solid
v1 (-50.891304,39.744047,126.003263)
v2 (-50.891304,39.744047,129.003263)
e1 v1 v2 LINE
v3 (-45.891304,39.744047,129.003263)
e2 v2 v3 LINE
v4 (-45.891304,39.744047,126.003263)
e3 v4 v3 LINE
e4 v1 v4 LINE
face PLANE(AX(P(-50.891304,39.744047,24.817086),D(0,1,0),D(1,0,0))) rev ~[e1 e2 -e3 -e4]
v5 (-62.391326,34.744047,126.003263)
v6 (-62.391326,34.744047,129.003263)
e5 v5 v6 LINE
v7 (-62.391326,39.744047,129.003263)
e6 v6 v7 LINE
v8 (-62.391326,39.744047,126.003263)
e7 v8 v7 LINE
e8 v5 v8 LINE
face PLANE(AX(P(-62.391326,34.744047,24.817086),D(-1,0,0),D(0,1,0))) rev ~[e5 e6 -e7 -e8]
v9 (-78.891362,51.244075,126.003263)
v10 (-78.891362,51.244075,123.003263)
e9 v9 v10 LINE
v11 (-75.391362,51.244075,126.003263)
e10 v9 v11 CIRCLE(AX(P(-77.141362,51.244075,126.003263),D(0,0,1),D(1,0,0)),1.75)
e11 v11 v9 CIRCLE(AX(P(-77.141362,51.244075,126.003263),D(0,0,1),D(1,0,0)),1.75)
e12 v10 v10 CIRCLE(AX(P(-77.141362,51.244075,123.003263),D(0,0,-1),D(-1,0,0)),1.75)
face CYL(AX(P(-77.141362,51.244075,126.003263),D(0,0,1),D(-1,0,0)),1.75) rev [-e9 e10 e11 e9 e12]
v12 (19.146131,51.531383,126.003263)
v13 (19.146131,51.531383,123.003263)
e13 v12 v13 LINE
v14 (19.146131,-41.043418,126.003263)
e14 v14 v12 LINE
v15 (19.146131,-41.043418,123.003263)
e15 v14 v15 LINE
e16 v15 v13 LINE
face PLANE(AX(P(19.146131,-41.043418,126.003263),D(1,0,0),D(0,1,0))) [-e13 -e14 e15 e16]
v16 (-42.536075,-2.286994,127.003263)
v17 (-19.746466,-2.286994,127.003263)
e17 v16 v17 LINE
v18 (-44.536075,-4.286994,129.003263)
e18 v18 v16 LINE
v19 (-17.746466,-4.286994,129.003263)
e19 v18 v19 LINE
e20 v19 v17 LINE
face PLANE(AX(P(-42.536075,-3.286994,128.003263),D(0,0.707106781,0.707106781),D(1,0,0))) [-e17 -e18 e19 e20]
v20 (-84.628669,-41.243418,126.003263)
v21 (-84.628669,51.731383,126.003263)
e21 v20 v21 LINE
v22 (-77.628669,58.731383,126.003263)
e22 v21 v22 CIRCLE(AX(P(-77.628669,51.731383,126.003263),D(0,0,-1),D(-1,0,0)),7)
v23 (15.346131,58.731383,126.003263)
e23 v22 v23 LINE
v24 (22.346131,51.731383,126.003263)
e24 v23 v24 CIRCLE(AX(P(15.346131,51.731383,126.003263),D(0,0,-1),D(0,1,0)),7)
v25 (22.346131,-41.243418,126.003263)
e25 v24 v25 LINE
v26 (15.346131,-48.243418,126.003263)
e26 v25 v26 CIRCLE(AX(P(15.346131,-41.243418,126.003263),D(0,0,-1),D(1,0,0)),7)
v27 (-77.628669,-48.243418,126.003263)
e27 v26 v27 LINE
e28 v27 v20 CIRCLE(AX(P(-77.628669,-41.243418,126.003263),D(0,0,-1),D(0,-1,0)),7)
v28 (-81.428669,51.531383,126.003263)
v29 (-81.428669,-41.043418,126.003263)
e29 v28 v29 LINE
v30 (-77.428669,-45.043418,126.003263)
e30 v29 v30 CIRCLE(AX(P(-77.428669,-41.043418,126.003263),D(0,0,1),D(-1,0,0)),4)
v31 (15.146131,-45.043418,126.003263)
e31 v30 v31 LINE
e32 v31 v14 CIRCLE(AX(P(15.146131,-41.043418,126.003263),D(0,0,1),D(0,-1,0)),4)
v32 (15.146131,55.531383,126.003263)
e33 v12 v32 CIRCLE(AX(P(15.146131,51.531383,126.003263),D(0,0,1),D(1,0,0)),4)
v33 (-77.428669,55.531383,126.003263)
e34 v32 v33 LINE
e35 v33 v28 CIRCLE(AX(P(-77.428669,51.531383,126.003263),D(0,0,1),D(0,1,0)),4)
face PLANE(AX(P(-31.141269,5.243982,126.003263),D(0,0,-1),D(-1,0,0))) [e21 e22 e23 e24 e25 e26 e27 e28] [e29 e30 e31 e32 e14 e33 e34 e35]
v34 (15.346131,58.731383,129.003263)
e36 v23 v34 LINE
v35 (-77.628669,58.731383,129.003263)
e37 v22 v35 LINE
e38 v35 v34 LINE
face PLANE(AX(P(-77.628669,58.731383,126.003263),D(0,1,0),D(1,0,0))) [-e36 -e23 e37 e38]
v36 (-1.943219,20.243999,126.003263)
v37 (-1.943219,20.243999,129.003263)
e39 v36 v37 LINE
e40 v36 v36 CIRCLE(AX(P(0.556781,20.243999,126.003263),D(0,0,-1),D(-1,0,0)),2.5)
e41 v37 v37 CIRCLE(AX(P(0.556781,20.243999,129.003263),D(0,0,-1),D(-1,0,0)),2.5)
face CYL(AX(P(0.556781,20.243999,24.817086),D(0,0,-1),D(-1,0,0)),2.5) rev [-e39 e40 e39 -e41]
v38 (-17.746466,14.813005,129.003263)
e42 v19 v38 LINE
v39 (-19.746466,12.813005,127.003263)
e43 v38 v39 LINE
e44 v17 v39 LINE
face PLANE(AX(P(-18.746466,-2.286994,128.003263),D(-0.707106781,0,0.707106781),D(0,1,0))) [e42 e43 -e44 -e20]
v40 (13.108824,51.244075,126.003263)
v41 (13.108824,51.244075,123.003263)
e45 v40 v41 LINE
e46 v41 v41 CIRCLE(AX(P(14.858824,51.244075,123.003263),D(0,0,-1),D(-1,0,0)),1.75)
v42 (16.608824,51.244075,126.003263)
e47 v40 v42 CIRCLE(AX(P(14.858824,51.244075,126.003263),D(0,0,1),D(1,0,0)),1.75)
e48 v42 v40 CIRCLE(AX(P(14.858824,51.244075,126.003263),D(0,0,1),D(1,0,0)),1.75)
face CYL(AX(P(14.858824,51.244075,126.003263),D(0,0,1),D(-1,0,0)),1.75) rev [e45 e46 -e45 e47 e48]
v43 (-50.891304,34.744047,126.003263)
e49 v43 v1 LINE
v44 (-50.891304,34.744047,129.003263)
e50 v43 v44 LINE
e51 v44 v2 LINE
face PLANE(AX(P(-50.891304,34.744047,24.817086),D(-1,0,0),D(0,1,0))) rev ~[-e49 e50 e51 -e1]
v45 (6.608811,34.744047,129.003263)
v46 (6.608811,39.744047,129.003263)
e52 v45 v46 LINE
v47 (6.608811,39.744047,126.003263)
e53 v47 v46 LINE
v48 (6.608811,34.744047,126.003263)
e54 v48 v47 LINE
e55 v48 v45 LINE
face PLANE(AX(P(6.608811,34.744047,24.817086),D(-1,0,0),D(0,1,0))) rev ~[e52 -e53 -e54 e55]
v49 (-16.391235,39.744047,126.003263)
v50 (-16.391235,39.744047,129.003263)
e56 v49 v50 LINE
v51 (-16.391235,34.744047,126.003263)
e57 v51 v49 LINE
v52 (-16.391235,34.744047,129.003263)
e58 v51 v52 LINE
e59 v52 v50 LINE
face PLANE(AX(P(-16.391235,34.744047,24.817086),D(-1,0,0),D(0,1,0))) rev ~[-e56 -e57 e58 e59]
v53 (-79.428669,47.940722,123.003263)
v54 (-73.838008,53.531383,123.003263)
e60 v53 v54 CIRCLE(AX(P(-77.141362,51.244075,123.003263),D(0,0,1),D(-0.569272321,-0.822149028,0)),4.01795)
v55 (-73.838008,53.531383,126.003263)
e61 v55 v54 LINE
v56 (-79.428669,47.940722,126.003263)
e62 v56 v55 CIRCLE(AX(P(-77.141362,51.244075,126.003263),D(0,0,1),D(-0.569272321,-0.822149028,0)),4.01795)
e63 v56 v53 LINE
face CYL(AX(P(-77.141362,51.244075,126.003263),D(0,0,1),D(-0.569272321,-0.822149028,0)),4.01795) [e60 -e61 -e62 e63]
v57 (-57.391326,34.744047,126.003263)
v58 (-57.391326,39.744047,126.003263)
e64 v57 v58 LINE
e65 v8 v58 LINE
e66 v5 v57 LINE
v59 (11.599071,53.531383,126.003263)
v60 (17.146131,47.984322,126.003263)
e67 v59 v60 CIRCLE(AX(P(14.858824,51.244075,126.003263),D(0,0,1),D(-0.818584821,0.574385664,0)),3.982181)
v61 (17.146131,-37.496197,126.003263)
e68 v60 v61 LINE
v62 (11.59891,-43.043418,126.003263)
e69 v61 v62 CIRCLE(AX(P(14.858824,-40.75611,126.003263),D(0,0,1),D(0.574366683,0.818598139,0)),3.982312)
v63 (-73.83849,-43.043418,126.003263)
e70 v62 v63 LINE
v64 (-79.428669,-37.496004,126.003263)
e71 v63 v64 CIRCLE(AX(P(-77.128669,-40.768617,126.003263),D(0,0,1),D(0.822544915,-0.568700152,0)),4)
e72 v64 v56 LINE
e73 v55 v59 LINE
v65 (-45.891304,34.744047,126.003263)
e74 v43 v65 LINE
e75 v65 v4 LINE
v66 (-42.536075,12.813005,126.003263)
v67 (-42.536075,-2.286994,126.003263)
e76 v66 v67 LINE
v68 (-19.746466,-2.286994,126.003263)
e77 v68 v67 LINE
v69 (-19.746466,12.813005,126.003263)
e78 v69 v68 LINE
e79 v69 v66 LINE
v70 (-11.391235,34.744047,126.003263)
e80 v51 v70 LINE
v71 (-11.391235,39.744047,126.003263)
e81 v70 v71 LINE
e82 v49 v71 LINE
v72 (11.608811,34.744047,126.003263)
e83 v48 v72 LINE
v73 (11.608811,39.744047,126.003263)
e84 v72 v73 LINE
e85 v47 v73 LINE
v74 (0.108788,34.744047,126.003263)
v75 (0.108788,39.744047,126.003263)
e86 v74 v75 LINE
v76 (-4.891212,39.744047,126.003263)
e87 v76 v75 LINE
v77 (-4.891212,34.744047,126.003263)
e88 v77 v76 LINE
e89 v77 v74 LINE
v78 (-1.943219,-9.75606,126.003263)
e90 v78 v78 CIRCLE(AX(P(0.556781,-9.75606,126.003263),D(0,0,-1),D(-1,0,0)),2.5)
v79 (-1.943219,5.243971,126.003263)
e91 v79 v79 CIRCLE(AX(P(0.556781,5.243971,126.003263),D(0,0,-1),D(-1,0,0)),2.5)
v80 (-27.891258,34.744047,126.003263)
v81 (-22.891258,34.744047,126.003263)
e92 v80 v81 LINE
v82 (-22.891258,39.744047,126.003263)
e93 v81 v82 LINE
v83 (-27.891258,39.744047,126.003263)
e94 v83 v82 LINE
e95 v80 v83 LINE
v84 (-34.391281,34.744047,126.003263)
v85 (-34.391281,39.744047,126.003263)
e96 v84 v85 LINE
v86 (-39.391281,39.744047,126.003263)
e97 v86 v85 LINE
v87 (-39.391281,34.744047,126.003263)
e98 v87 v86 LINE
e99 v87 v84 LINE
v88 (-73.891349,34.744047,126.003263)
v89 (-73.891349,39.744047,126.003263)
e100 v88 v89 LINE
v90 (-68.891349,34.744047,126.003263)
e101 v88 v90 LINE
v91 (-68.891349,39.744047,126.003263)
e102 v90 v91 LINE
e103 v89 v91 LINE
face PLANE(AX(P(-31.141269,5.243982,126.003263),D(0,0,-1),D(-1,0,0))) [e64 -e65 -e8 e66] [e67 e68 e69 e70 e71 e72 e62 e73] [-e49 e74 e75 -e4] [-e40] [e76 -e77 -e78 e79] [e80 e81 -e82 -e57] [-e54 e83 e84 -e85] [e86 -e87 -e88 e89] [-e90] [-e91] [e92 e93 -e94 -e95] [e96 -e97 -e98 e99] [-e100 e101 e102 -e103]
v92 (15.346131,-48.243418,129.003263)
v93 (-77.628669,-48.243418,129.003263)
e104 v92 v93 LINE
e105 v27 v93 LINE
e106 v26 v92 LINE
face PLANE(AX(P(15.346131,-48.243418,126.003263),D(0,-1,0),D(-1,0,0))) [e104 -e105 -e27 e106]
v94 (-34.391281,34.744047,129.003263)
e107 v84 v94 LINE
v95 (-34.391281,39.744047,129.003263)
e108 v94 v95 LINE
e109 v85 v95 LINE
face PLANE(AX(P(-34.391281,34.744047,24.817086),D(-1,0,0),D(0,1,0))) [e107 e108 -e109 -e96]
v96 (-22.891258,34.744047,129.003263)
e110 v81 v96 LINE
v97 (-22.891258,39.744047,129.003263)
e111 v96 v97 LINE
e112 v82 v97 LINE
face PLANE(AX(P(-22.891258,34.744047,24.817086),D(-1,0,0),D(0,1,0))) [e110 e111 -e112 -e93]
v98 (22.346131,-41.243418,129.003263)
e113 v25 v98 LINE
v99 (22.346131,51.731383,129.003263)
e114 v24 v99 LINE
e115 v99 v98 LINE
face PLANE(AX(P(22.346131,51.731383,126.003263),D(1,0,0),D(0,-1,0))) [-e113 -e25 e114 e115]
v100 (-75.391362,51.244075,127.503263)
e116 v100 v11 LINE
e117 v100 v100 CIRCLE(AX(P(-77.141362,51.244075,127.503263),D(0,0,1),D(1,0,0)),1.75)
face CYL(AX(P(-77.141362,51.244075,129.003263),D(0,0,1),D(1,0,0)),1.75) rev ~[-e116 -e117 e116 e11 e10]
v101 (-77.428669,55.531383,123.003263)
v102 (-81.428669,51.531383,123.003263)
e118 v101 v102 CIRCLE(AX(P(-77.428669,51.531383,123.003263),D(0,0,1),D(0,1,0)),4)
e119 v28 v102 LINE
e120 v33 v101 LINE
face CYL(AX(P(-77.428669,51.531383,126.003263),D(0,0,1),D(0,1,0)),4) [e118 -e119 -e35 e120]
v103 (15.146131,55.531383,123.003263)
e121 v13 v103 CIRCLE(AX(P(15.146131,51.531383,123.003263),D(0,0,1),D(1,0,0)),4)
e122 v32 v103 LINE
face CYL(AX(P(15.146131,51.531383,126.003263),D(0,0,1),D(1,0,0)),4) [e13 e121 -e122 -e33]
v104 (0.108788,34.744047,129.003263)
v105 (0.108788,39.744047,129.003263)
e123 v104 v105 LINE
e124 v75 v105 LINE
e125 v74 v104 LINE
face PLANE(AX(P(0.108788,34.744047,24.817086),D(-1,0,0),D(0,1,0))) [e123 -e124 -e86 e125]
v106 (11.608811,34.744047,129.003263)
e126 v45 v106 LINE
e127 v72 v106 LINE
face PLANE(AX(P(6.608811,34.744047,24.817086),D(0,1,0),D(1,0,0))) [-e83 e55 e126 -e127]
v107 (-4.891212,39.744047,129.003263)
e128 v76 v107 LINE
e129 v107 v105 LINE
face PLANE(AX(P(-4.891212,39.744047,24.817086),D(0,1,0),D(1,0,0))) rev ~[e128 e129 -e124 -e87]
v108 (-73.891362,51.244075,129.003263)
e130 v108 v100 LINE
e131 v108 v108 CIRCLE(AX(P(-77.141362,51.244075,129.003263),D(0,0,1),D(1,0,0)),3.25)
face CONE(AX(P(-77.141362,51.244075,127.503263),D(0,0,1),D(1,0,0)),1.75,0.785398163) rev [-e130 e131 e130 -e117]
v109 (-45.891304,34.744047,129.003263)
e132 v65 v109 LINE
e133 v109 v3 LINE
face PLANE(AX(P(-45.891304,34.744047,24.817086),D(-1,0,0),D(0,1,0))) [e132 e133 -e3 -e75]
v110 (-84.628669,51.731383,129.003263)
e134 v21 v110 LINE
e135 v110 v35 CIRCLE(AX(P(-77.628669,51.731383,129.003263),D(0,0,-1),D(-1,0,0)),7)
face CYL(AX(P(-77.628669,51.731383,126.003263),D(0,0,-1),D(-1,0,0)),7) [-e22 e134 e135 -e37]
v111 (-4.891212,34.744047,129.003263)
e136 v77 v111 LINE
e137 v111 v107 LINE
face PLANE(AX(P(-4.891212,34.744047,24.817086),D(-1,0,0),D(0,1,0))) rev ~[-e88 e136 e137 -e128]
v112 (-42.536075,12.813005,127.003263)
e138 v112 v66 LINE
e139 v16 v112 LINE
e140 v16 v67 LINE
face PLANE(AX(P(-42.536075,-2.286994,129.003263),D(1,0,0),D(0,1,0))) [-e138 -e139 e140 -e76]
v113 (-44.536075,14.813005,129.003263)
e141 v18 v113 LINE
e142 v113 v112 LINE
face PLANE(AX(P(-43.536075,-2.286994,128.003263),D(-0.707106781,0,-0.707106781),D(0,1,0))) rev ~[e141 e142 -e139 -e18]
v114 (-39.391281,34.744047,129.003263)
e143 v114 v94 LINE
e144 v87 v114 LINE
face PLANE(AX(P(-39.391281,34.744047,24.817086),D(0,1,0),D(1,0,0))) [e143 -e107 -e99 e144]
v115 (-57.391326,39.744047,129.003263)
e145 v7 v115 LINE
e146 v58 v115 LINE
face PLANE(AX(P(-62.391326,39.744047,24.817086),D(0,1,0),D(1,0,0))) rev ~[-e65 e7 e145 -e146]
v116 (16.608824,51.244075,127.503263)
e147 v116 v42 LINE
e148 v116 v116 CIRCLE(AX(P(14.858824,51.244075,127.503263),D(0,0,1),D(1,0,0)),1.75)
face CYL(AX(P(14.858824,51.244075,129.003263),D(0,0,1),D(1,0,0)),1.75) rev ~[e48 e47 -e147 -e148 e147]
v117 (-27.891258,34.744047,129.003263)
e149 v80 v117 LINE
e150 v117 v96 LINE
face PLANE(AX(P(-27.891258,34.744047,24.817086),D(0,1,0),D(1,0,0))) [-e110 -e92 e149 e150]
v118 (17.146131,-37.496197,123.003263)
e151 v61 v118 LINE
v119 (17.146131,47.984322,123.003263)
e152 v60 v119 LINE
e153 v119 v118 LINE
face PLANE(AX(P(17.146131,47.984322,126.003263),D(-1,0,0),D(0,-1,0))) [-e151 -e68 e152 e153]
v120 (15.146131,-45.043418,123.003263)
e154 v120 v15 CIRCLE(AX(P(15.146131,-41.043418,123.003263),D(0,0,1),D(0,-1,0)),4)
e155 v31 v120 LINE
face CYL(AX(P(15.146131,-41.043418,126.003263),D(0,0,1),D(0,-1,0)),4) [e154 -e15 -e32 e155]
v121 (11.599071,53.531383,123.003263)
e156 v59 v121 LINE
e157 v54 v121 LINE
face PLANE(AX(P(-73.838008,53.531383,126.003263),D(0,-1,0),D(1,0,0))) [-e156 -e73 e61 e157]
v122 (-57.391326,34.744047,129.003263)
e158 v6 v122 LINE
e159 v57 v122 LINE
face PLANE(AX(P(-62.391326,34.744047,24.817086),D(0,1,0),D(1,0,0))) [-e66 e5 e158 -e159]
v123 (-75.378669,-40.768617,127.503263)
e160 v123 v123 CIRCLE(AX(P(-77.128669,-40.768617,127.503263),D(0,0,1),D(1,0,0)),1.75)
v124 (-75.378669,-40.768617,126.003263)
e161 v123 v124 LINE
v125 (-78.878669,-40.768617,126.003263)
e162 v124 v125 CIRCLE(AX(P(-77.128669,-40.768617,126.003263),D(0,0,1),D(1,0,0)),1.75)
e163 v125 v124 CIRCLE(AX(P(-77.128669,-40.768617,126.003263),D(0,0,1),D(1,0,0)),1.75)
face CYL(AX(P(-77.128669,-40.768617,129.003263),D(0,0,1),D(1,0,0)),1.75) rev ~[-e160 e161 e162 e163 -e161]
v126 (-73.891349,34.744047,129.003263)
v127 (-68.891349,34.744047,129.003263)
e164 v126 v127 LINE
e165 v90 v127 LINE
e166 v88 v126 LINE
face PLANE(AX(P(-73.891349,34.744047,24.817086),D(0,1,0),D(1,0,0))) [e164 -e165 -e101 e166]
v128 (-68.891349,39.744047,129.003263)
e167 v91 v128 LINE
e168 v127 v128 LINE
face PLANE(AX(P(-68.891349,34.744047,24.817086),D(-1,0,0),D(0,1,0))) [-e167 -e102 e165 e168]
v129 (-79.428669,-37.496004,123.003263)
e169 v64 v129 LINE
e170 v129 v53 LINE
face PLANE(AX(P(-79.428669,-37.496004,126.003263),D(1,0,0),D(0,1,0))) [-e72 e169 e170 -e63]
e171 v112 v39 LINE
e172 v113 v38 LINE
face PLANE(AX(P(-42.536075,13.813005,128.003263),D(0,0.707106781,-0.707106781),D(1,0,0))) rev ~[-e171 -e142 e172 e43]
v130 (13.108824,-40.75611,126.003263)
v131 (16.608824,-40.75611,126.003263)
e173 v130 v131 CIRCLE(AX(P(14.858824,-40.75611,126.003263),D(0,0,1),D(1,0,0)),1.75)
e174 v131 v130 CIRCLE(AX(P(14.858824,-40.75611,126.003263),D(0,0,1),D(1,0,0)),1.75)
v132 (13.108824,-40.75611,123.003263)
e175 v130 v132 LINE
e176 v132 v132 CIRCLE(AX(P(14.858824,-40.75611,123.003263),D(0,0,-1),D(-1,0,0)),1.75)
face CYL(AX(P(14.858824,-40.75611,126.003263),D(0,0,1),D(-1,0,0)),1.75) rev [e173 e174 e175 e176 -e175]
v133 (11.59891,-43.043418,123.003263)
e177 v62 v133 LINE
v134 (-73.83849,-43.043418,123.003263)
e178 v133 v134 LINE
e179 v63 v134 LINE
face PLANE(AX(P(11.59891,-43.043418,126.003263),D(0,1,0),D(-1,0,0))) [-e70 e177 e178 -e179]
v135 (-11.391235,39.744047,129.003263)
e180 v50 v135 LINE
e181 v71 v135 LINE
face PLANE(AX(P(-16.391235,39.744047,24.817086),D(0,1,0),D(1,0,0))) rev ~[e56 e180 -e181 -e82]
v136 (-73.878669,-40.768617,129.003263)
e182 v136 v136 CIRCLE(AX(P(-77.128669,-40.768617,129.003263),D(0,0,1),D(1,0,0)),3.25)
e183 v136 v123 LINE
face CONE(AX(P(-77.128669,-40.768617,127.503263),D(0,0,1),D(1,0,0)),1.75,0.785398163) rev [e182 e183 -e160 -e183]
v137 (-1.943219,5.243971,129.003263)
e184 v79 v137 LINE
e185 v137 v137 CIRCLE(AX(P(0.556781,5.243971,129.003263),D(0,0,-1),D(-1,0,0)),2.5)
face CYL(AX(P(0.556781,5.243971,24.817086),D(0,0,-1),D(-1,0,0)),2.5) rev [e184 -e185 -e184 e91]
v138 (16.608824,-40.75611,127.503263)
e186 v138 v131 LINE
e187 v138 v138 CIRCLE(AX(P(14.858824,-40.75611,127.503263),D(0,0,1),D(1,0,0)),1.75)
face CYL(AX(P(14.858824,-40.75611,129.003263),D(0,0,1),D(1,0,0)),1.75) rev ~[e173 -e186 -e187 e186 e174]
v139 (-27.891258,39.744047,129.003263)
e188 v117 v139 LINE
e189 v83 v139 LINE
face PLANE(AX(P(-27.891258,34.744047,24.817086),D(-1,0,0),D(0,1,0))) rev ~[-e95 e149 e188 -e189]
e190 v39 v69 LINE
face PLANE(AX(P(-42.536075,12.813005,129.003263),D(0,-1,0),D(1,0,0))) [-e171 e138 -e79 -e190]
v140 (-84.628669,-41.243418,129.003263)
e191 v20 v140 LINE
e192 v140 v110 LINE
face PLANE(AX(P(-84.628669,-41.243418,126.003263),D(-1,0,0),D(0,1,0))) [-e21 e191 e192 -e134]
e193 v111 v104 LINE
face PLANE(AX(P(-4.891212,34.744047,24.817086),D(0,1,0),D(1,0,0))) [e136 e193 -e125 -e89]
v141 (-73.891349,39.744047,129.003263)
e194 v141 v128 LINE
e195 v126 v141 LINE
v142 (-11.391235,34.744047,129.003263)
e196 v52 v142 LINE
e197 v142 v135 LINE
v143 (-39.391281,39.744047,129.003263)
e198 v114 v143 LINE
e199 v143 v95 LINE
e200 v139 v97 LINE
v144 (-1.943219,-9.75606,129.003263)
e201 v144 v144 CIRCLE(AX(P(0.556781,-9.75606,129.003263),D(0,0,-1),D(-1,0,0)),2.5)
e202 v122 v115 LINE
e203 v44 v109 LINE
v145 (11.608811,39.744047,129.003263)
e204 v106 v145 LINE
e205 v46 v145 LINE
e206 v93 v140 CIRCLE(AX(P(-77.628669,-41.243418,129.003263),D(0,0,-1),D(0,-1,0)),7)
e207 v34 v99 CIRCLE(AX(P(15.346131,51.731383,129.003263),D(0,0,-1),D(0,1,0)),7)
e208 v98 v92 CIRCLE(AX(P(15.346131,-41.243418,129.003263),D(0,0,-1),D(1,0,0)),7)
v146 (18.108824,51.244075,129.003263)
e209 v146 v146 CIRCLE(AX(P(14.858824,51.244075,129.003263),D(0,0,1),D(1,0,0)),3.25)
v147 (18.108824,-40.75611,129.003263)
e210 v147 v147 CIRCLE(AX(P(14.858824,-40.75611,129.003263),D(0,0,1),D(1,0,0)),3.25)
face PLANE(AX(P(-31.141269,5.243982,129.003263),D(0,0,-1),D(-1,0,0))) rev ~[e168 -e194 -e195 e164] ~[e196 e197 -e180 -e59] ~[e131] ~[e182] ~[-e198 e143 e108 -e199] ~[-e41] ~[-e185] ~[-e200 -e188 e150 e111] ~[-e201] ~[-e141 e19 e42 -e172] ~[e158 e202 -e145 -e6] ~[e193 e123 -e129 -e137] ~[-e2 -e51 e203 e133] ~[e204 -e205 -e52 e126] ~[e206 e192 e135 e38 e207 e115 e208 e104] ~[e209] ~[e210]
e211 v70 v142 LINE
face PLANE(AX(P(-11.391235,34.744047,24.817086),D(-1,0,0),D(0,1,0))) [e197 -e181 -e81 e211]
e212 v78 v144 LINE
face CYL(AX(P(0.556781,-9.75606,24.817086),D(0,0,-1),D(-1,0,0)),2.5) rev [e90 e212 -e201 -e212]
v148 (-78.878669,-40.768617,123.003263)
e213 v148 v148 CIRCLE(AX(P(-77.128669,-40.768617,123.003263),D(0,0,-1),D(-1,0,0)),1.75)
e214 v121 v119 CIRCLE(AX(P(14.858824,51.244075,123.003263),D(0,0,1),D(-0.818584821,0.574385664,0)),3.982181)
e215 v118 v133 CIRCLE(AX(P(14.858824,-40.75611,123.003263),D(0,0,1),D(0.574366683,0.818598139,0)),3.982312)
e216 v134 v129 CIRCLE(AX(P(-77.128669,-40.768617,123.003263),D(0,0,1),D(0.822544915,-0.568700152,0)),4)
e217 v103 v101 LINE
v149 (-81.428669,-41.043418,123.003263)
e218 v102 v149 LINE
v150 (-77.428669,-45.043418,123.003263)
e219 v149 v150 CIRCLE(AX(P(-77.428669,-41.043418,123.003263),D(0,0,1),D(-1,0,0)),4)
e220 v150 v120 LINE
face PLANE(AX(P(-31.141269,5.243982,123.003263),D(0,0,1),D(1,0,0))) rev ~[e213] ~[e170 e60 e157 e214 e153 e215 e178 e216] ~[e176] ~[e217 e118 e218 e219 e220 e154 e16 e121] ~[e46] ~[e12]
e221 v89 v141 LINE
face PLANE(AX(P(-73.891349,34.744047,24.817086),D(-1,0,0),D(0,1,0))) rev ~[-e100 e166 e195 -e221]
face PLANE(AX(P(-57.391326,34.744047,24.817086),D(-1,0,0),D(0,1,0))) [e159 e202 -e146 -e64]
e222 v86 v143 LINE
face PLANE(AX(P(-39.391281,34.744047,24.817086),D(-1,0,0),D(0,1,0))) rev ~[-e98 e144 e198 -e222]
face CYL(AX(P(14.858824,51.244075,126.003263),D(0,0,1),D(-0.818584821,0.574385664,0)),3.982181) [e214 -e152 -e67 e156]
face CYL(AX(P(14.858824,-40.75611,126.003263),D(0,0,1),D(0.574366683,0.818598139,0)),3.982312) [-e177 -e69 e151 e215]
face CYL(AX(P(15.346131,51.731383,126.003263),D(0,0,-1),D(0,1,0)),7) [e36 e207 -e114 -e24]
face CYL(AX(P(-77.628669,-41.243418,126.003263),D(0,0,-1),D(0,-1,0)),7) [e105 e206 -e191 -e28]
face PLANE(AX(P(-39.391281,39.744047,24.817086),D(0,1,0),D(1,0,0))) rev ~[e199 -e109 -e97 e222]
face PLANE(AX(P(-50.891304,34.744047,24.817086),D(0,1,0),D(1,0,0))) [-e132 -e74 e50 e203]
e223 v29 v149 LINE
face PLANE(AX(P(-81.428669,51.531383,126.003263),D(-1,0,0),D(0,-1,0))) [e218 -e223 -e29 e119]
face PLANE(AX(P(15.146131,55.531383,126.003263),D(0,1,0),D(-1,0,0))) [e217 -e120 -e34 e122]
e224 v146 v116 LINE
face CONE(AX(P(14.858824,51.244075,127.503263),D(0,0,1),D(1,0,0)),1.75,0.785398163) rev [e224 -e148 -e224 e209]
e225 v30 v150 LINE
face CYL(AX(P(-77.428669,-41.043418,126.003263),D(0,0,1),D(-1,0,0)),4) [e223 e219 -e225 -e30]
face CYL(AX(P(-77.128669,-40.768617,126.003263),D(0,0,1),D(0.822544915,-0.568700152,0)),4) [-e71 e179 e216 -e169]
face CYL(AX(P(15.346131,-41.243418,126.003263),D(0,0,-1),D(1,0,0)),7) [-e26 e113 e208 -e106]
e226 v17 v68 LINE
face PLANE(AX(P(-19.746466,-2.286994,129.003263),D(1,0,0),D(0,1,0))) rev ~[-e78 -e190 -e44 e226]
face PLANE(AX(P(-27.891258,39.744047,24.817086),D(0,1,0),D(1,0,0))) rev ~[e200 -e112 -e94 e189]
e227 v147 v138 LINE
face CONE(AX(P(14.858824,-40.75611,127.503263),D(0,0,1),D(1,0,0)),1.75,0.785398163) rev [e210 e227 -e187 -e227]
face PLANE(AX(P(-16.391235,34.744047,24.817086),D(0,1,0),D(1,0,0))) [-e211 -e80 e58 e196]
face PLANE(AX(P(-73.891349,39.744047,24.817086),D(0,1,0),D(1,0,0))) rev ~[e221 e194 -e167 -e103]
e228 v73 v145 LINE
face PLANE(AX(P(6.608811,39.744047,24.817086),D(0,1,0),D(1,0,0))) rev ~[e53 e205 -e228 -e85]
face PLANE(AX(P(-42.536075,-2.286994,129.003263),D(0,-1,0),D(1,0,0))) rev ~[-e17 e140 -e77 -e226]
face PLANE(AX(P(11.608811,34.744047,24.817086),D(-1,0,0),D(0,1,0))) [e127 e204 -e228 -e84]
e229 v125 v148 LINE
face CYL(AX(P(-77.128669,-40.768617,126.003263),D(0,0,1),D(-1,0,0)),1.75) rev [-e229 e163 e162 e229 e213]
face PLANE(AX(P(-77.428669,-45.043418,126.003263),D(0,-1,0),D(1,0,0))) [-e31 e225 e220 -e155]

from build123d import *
from build123d.topology import SkipClean

# Parameters (mm, degrees)
ESTRUSIONE_ESTRUSIONE1_DEPTH  = 3
TAGLIO_ESTRUSIONE1_REACH      = 105.055
SCHIZZO2_R                    = 1.75
SMUSSO1_SIZE                  = 1.5
SCHIZZO3_W                    = 22.789608278
SCHIZZO3_H                    = 15.099999313
TAGLIO_ESTRUSIONE2_DEPTH      = 104.055261945
SMUSSO2_SIZE                  = 2
SCHIZZO4_R                    = 1.75
ESTRUSIONE_ESTRUSIONE2_DEPTH  = 3
TAGLIO_ESTRUSIONE3_DEPTH      = 104.18617647
TAGLIO_ESTRUSIONE3_DEPTH_BACK = 104.18617647
SCHIZZO5_R                    = 2.5
SCHIZZO5_W                    = 5
SCHIZZO5_H                    = 5


with BuildPart() as part:
    # Schizzo1 → Estrusione-Estrusione1 (new body)
    with BuildSketch(Plane.XY.offset(126.00326253)):
        with BuildLine():
            Line((-77.628669492, 58.731382705), (15.346131117, 58.731382705))
            ThreePointArc((15.346131117, 58.731382705), (20.295878585, 56.681130173), (22.346131117, 51.731382705))
            Line((22.346131117, 51.731382705), (22.346131117, -41.243417905))
            ThreePointArc((22.346131117, -41.243417905), (20.295878585, -46.193165373), (15.346131117, -48.243417905))
            Line((15.346131117, -48.243417905), (-77.628669492, -48.243417905))
            ThreePointArc((-77.628669492, -48.243417905), (-82.578416961, -46.193165373), (-84.628669492, -41.243417905))
            Line((-84.628669492, -41.243417905), (-84.628669492, 51.731382705))
            ThreePointArc((-84.628669492, 51.731382705), (-82.578416961, 56.681130173), (-77.628669492, 58.731382705))
        make_face()
    extrude(amount=ESTRUSIONE_ESTRUSIONE1_DEPTH)

    # Schizzo2 → Taglio-Estrusione1 (cut, up to next)
    with BuildSketch(Plane.XY.offset(129.00326253), mode=Mode.PRIVATE) as taglio_estrusione1_sk1:
        with Locations((-77.141361898, 51.24407511)):
            Circle(SCHIZZO2_R)
    taglio_estrusione1_tool1 = extrude(taglio_estrusione1_sk1.sketch, amount=-TAGLIO_ESTRUSIONE1_REACH, mode=Mode.PRIVATE) & part.part
    # Schizzo2 → Taglio-Estrusione1 (cut, up to next)
    with BuildSketch(Plane.XY.offset(129.00326253), mode=Mode.PRIVATE) as taglio_estrusione1_sk2:
        with Locations((14.858823522, 51.24407511)):
            Circle(SCHIZZO2_R)
    taglio_estrusione1_tool2 = extrude(taglio_estrusione1_sk2.sketch, amount=-TAGLIO_ESTRUSIONE1_REACH, mode=Mode.PRIVATE) & part.part
    # Schizzo2 → Taglio-Estrusione1 (cut, up to next)
    with BuildSketch(Plane.XY.offset(129.00326253), mode=Mode.PRIVATE) as taglio_estrusione1_sk3:
        with Locations((14.858823522, -40.75611031)):
            Circle(SCHIZZO2_R)
    taglio_estrusione1_tool3 = extrude(taglio_estrusione1_sk3.sketch, amount=-TAGLIO_ESTRUSIONE1_REACH, mode=Mode.PRIVATE) & part.part
    # Schizzo2 → Taglio-Estrusione1 (cut, up to next)
    with BuildSketch(Plane.XY.offset(129.00326253), mode=Mode.PRIVATE) as taglio_estrusione1_sk4:
        with Locations((-77.128669492, -40.768617295)):
            Circle(SCHIZZO2_R)
    taglio_estrusione1_tool4 = extrude(taglio_estrusione1_sk4.sketch, amount=-TAGLIO_ESTRUSIONE1_REACH, mode=Mode.PRIVATE) & part.part
    add(taglio_estrusione1_tool1.solids().sort_by_distance((-77.141362, 51.244075, 129.003263))[0], mode=Mode.SUBTRACT)
    add(taglio_estrusione1_tool2.solids().sort_by_distance((14.858824, 51.244075, 129.003263))[0], mode=Mode.SUBTRACT)
    add(taglio_estrusione1_tool3.solids().sort_by_distance((14.858824, -40.75611, 129.003263))[0], mode=Mode.SUBTRACT)
    add(taglio_estrusione1_tool4.solids().sort_by_distance((-77.128669, -40.768617, 129.003263))[0], mode=Mode.SUBTRACT)

    # Smusso1
    smusso1_edges = [part.edges().sort_by_distance(p)[0] for p in [
        (-78.878669492, -40.768617295, 129.00326253),
        (13.108823522, -40.75611031, 129.00326253),
        (13.108823522, 51.24407511, 129.00326253),
        (-78.891361898, 51.24407511, 129.00326253),
    ]]
    chamfer(smusso1_edges, length=SMUSSO1_SIZE)

    # Schizzo3 → Taglio-Estrusione2 (cut, through all)
    with BuildSketch(Plane.XY.offset(129.00326253)):
        with Locations((-31.141270458, 5.263005749)):
            Rectangle(SCHIZZO3_W, SCHIZZO3_H)
    extrude(amount=-TAGLIO_ESTRUSIONE2_DEPTH, mode=Mode.SUBTRACT)

    # Smusso2
    smusso2_edges = [part.edges().sort_by_distance(p)[0] for p in [
        (-42.536074597, 5.263005749, 129.00326253),
        (-31.141270458, -2.286993907, 129.00326253),
        (-19.746466319, 5.263005749, 129.00326253),
        (-31.141270458, 12.813005406, 129.00326253),
    ]]
    chamfer(smusso2_edges, length=SMUSSO2_SIZE)

    # Schizzo4 → Estrusione-Estrusione2 (add)
    with SkipClean():  # the faces are left unmerged after this step: merging them gives an invalid solid
        with BuildSketch(Plane(origin=(0, 0, 126.00326253), x_dir=(-1, 0, 0), z_dir=(0, 0, -1))):
            with BuildLine():
                ThreePointArc((81.428669492, -41.043417905), (80.257096617, -43.87184503), (77.428669492, -45.043417905))
                Line((77.428669492, -45.043417905), (-15.146131117, -45.043417905))
                ThreePointArc((-15.146131117, -45.043417905), (-17.974558242, -43.87184503), (-19.146131117, -41.043417905))
                Line((-19.146131117, -41.043417905), (-19.146131117, 51.531382705))
                ThreePointArc((-19.146131117, 51.531382705), (-17.974558242, 54.359809829), (-15.146131117, 55.531382705))
                Line((-15.146131117, 55.531382705), (77.428669492, 55.531382705))
                ThreePointArc((77.428669492, 55.531382705), (80.257096617, 54.359809829), (81.428669492, 51.531382705))
                Line((81.428669492, 51.531382705), (81.428669492, -41.043417905))
            make_face()
            with Locations((77.128669492, -40.768617295)):
                Circle(SCHIZZO4_R, mode=Mode.SUBTRACT)
            with Locations((-14.858823522, 51.24407511)):
                Circle(SCHIZZO4_R, mode=Mode.SUBTRACT)
            with Locations((77.141361898, 51.24407511)):
                Circle(SCHIZZO4_R, mode=Mode.SUBTRACT)
            with Locations((-14.858823522, -40.75611031)):
                Circle(SCHIZZO4_R, mode=Mode.SUBTRACT)
            with BuildLine():
                Line((79.428669492, -37.496003661), (79.428669492, 47.940721611))
                ThreePointArc((79.428669492, 47.940721611), (74.300242368, 48.40295558), (73.838008399, 53.531382705))
                Line((73.838008399, 53.531382705), (-11.599070717, 53.531382705))
                ThreePointArc((-11.599070717, 53.531382705), (-12.042996434, 48.428248021), (-17.146131117, 47.984322305))
                Line((-17.146131117, 47.984322305), (-17.146131117, -37.496196748))
                ThreePointArc((-17.146131117, -37.496196748), (-12.042903383, -37.940190171), (-11.59890996, -43.043417905))
                Line((-11.59890996, -43.043417905), (73.838489834, -43.043417905))
                ThreePointArc((73.838489834, -43.043417905), (74.31112355, -37.929350689), (79.428669492, -37.496003661))
            make_face(mode=Mode.SUBTRACT)
        extrude(amount=ESTRUSIONE_ESTRUSIONE2_DEPTH)

    # Schizzo5 → Taglio-Estrusione3 (cut, two sides: drawn at the far end of the back side and taken through both)
    with SkipClean():  # the faces are left unmerged after this step: merging them gives an invalid solid
        with BuildSketch(Plane.XY.offset(129.00326253).offset(-TAGLIO_ESTRUSIONE3_DEPTH_BACK)):
            with Locations(Location((0.556781358, -9.75605951, 0), (0, 0, 180))):
                Circle(SCHIZZO5_R)
            with Locations(Location((0.556781358, 5.24397097, 0), (0, 0, 180))):
                Circle(SCHIZZO5_R)
            with Locations(Location((0.556781358, 20.24399891, 0), (0, 0, 180))):
                Circle(SCHIZZO5_R)
            with Locations((-71.391349259, 37.244047119)):
                Rectangle(SCHIZZO5_W, SCHIZZO5_H)
            with Locations((-59.891326399, 37.244047119)):
                Rectangle(SCHIZZO5_W, SCHIZZO5_H)
            with Locations((-48.391303539, 37.244047119)):
                Rectangle(SCHIZZO5_W, SCHIZZO5_H)
            with Locations((-36.891280679, 37.244047119)):
                Rectangle(SCHIZZO5_W, SCHIZZO5_H)
            with Locations((-25.391257819, 37.244047119)):
                Rectangle(SCHIZZO5_W, SCHIZZO5_H)
            with Locations((-13.891234958, 37.244047119)):
                Rectangle(SCHIZZO5_W, SCHIZZO5_H)
            with Locations((-2.391212098, 37.244047119)):
                Rectangle(SCHIZZO5_W, SCHIZZO5_H)
            with Locations((9.108810762, 37.244047119)):
                Rectangle(SCHIZZO5_W, SCHIZZO5_H)
        extrude(amount=TAGLIO_ESTRUSIONE3_DEPTH + TAGLIO_ESTRUSIONE3_DEPTH_BACK, mode=Mode.SUBTRACT)


solid = part.part
